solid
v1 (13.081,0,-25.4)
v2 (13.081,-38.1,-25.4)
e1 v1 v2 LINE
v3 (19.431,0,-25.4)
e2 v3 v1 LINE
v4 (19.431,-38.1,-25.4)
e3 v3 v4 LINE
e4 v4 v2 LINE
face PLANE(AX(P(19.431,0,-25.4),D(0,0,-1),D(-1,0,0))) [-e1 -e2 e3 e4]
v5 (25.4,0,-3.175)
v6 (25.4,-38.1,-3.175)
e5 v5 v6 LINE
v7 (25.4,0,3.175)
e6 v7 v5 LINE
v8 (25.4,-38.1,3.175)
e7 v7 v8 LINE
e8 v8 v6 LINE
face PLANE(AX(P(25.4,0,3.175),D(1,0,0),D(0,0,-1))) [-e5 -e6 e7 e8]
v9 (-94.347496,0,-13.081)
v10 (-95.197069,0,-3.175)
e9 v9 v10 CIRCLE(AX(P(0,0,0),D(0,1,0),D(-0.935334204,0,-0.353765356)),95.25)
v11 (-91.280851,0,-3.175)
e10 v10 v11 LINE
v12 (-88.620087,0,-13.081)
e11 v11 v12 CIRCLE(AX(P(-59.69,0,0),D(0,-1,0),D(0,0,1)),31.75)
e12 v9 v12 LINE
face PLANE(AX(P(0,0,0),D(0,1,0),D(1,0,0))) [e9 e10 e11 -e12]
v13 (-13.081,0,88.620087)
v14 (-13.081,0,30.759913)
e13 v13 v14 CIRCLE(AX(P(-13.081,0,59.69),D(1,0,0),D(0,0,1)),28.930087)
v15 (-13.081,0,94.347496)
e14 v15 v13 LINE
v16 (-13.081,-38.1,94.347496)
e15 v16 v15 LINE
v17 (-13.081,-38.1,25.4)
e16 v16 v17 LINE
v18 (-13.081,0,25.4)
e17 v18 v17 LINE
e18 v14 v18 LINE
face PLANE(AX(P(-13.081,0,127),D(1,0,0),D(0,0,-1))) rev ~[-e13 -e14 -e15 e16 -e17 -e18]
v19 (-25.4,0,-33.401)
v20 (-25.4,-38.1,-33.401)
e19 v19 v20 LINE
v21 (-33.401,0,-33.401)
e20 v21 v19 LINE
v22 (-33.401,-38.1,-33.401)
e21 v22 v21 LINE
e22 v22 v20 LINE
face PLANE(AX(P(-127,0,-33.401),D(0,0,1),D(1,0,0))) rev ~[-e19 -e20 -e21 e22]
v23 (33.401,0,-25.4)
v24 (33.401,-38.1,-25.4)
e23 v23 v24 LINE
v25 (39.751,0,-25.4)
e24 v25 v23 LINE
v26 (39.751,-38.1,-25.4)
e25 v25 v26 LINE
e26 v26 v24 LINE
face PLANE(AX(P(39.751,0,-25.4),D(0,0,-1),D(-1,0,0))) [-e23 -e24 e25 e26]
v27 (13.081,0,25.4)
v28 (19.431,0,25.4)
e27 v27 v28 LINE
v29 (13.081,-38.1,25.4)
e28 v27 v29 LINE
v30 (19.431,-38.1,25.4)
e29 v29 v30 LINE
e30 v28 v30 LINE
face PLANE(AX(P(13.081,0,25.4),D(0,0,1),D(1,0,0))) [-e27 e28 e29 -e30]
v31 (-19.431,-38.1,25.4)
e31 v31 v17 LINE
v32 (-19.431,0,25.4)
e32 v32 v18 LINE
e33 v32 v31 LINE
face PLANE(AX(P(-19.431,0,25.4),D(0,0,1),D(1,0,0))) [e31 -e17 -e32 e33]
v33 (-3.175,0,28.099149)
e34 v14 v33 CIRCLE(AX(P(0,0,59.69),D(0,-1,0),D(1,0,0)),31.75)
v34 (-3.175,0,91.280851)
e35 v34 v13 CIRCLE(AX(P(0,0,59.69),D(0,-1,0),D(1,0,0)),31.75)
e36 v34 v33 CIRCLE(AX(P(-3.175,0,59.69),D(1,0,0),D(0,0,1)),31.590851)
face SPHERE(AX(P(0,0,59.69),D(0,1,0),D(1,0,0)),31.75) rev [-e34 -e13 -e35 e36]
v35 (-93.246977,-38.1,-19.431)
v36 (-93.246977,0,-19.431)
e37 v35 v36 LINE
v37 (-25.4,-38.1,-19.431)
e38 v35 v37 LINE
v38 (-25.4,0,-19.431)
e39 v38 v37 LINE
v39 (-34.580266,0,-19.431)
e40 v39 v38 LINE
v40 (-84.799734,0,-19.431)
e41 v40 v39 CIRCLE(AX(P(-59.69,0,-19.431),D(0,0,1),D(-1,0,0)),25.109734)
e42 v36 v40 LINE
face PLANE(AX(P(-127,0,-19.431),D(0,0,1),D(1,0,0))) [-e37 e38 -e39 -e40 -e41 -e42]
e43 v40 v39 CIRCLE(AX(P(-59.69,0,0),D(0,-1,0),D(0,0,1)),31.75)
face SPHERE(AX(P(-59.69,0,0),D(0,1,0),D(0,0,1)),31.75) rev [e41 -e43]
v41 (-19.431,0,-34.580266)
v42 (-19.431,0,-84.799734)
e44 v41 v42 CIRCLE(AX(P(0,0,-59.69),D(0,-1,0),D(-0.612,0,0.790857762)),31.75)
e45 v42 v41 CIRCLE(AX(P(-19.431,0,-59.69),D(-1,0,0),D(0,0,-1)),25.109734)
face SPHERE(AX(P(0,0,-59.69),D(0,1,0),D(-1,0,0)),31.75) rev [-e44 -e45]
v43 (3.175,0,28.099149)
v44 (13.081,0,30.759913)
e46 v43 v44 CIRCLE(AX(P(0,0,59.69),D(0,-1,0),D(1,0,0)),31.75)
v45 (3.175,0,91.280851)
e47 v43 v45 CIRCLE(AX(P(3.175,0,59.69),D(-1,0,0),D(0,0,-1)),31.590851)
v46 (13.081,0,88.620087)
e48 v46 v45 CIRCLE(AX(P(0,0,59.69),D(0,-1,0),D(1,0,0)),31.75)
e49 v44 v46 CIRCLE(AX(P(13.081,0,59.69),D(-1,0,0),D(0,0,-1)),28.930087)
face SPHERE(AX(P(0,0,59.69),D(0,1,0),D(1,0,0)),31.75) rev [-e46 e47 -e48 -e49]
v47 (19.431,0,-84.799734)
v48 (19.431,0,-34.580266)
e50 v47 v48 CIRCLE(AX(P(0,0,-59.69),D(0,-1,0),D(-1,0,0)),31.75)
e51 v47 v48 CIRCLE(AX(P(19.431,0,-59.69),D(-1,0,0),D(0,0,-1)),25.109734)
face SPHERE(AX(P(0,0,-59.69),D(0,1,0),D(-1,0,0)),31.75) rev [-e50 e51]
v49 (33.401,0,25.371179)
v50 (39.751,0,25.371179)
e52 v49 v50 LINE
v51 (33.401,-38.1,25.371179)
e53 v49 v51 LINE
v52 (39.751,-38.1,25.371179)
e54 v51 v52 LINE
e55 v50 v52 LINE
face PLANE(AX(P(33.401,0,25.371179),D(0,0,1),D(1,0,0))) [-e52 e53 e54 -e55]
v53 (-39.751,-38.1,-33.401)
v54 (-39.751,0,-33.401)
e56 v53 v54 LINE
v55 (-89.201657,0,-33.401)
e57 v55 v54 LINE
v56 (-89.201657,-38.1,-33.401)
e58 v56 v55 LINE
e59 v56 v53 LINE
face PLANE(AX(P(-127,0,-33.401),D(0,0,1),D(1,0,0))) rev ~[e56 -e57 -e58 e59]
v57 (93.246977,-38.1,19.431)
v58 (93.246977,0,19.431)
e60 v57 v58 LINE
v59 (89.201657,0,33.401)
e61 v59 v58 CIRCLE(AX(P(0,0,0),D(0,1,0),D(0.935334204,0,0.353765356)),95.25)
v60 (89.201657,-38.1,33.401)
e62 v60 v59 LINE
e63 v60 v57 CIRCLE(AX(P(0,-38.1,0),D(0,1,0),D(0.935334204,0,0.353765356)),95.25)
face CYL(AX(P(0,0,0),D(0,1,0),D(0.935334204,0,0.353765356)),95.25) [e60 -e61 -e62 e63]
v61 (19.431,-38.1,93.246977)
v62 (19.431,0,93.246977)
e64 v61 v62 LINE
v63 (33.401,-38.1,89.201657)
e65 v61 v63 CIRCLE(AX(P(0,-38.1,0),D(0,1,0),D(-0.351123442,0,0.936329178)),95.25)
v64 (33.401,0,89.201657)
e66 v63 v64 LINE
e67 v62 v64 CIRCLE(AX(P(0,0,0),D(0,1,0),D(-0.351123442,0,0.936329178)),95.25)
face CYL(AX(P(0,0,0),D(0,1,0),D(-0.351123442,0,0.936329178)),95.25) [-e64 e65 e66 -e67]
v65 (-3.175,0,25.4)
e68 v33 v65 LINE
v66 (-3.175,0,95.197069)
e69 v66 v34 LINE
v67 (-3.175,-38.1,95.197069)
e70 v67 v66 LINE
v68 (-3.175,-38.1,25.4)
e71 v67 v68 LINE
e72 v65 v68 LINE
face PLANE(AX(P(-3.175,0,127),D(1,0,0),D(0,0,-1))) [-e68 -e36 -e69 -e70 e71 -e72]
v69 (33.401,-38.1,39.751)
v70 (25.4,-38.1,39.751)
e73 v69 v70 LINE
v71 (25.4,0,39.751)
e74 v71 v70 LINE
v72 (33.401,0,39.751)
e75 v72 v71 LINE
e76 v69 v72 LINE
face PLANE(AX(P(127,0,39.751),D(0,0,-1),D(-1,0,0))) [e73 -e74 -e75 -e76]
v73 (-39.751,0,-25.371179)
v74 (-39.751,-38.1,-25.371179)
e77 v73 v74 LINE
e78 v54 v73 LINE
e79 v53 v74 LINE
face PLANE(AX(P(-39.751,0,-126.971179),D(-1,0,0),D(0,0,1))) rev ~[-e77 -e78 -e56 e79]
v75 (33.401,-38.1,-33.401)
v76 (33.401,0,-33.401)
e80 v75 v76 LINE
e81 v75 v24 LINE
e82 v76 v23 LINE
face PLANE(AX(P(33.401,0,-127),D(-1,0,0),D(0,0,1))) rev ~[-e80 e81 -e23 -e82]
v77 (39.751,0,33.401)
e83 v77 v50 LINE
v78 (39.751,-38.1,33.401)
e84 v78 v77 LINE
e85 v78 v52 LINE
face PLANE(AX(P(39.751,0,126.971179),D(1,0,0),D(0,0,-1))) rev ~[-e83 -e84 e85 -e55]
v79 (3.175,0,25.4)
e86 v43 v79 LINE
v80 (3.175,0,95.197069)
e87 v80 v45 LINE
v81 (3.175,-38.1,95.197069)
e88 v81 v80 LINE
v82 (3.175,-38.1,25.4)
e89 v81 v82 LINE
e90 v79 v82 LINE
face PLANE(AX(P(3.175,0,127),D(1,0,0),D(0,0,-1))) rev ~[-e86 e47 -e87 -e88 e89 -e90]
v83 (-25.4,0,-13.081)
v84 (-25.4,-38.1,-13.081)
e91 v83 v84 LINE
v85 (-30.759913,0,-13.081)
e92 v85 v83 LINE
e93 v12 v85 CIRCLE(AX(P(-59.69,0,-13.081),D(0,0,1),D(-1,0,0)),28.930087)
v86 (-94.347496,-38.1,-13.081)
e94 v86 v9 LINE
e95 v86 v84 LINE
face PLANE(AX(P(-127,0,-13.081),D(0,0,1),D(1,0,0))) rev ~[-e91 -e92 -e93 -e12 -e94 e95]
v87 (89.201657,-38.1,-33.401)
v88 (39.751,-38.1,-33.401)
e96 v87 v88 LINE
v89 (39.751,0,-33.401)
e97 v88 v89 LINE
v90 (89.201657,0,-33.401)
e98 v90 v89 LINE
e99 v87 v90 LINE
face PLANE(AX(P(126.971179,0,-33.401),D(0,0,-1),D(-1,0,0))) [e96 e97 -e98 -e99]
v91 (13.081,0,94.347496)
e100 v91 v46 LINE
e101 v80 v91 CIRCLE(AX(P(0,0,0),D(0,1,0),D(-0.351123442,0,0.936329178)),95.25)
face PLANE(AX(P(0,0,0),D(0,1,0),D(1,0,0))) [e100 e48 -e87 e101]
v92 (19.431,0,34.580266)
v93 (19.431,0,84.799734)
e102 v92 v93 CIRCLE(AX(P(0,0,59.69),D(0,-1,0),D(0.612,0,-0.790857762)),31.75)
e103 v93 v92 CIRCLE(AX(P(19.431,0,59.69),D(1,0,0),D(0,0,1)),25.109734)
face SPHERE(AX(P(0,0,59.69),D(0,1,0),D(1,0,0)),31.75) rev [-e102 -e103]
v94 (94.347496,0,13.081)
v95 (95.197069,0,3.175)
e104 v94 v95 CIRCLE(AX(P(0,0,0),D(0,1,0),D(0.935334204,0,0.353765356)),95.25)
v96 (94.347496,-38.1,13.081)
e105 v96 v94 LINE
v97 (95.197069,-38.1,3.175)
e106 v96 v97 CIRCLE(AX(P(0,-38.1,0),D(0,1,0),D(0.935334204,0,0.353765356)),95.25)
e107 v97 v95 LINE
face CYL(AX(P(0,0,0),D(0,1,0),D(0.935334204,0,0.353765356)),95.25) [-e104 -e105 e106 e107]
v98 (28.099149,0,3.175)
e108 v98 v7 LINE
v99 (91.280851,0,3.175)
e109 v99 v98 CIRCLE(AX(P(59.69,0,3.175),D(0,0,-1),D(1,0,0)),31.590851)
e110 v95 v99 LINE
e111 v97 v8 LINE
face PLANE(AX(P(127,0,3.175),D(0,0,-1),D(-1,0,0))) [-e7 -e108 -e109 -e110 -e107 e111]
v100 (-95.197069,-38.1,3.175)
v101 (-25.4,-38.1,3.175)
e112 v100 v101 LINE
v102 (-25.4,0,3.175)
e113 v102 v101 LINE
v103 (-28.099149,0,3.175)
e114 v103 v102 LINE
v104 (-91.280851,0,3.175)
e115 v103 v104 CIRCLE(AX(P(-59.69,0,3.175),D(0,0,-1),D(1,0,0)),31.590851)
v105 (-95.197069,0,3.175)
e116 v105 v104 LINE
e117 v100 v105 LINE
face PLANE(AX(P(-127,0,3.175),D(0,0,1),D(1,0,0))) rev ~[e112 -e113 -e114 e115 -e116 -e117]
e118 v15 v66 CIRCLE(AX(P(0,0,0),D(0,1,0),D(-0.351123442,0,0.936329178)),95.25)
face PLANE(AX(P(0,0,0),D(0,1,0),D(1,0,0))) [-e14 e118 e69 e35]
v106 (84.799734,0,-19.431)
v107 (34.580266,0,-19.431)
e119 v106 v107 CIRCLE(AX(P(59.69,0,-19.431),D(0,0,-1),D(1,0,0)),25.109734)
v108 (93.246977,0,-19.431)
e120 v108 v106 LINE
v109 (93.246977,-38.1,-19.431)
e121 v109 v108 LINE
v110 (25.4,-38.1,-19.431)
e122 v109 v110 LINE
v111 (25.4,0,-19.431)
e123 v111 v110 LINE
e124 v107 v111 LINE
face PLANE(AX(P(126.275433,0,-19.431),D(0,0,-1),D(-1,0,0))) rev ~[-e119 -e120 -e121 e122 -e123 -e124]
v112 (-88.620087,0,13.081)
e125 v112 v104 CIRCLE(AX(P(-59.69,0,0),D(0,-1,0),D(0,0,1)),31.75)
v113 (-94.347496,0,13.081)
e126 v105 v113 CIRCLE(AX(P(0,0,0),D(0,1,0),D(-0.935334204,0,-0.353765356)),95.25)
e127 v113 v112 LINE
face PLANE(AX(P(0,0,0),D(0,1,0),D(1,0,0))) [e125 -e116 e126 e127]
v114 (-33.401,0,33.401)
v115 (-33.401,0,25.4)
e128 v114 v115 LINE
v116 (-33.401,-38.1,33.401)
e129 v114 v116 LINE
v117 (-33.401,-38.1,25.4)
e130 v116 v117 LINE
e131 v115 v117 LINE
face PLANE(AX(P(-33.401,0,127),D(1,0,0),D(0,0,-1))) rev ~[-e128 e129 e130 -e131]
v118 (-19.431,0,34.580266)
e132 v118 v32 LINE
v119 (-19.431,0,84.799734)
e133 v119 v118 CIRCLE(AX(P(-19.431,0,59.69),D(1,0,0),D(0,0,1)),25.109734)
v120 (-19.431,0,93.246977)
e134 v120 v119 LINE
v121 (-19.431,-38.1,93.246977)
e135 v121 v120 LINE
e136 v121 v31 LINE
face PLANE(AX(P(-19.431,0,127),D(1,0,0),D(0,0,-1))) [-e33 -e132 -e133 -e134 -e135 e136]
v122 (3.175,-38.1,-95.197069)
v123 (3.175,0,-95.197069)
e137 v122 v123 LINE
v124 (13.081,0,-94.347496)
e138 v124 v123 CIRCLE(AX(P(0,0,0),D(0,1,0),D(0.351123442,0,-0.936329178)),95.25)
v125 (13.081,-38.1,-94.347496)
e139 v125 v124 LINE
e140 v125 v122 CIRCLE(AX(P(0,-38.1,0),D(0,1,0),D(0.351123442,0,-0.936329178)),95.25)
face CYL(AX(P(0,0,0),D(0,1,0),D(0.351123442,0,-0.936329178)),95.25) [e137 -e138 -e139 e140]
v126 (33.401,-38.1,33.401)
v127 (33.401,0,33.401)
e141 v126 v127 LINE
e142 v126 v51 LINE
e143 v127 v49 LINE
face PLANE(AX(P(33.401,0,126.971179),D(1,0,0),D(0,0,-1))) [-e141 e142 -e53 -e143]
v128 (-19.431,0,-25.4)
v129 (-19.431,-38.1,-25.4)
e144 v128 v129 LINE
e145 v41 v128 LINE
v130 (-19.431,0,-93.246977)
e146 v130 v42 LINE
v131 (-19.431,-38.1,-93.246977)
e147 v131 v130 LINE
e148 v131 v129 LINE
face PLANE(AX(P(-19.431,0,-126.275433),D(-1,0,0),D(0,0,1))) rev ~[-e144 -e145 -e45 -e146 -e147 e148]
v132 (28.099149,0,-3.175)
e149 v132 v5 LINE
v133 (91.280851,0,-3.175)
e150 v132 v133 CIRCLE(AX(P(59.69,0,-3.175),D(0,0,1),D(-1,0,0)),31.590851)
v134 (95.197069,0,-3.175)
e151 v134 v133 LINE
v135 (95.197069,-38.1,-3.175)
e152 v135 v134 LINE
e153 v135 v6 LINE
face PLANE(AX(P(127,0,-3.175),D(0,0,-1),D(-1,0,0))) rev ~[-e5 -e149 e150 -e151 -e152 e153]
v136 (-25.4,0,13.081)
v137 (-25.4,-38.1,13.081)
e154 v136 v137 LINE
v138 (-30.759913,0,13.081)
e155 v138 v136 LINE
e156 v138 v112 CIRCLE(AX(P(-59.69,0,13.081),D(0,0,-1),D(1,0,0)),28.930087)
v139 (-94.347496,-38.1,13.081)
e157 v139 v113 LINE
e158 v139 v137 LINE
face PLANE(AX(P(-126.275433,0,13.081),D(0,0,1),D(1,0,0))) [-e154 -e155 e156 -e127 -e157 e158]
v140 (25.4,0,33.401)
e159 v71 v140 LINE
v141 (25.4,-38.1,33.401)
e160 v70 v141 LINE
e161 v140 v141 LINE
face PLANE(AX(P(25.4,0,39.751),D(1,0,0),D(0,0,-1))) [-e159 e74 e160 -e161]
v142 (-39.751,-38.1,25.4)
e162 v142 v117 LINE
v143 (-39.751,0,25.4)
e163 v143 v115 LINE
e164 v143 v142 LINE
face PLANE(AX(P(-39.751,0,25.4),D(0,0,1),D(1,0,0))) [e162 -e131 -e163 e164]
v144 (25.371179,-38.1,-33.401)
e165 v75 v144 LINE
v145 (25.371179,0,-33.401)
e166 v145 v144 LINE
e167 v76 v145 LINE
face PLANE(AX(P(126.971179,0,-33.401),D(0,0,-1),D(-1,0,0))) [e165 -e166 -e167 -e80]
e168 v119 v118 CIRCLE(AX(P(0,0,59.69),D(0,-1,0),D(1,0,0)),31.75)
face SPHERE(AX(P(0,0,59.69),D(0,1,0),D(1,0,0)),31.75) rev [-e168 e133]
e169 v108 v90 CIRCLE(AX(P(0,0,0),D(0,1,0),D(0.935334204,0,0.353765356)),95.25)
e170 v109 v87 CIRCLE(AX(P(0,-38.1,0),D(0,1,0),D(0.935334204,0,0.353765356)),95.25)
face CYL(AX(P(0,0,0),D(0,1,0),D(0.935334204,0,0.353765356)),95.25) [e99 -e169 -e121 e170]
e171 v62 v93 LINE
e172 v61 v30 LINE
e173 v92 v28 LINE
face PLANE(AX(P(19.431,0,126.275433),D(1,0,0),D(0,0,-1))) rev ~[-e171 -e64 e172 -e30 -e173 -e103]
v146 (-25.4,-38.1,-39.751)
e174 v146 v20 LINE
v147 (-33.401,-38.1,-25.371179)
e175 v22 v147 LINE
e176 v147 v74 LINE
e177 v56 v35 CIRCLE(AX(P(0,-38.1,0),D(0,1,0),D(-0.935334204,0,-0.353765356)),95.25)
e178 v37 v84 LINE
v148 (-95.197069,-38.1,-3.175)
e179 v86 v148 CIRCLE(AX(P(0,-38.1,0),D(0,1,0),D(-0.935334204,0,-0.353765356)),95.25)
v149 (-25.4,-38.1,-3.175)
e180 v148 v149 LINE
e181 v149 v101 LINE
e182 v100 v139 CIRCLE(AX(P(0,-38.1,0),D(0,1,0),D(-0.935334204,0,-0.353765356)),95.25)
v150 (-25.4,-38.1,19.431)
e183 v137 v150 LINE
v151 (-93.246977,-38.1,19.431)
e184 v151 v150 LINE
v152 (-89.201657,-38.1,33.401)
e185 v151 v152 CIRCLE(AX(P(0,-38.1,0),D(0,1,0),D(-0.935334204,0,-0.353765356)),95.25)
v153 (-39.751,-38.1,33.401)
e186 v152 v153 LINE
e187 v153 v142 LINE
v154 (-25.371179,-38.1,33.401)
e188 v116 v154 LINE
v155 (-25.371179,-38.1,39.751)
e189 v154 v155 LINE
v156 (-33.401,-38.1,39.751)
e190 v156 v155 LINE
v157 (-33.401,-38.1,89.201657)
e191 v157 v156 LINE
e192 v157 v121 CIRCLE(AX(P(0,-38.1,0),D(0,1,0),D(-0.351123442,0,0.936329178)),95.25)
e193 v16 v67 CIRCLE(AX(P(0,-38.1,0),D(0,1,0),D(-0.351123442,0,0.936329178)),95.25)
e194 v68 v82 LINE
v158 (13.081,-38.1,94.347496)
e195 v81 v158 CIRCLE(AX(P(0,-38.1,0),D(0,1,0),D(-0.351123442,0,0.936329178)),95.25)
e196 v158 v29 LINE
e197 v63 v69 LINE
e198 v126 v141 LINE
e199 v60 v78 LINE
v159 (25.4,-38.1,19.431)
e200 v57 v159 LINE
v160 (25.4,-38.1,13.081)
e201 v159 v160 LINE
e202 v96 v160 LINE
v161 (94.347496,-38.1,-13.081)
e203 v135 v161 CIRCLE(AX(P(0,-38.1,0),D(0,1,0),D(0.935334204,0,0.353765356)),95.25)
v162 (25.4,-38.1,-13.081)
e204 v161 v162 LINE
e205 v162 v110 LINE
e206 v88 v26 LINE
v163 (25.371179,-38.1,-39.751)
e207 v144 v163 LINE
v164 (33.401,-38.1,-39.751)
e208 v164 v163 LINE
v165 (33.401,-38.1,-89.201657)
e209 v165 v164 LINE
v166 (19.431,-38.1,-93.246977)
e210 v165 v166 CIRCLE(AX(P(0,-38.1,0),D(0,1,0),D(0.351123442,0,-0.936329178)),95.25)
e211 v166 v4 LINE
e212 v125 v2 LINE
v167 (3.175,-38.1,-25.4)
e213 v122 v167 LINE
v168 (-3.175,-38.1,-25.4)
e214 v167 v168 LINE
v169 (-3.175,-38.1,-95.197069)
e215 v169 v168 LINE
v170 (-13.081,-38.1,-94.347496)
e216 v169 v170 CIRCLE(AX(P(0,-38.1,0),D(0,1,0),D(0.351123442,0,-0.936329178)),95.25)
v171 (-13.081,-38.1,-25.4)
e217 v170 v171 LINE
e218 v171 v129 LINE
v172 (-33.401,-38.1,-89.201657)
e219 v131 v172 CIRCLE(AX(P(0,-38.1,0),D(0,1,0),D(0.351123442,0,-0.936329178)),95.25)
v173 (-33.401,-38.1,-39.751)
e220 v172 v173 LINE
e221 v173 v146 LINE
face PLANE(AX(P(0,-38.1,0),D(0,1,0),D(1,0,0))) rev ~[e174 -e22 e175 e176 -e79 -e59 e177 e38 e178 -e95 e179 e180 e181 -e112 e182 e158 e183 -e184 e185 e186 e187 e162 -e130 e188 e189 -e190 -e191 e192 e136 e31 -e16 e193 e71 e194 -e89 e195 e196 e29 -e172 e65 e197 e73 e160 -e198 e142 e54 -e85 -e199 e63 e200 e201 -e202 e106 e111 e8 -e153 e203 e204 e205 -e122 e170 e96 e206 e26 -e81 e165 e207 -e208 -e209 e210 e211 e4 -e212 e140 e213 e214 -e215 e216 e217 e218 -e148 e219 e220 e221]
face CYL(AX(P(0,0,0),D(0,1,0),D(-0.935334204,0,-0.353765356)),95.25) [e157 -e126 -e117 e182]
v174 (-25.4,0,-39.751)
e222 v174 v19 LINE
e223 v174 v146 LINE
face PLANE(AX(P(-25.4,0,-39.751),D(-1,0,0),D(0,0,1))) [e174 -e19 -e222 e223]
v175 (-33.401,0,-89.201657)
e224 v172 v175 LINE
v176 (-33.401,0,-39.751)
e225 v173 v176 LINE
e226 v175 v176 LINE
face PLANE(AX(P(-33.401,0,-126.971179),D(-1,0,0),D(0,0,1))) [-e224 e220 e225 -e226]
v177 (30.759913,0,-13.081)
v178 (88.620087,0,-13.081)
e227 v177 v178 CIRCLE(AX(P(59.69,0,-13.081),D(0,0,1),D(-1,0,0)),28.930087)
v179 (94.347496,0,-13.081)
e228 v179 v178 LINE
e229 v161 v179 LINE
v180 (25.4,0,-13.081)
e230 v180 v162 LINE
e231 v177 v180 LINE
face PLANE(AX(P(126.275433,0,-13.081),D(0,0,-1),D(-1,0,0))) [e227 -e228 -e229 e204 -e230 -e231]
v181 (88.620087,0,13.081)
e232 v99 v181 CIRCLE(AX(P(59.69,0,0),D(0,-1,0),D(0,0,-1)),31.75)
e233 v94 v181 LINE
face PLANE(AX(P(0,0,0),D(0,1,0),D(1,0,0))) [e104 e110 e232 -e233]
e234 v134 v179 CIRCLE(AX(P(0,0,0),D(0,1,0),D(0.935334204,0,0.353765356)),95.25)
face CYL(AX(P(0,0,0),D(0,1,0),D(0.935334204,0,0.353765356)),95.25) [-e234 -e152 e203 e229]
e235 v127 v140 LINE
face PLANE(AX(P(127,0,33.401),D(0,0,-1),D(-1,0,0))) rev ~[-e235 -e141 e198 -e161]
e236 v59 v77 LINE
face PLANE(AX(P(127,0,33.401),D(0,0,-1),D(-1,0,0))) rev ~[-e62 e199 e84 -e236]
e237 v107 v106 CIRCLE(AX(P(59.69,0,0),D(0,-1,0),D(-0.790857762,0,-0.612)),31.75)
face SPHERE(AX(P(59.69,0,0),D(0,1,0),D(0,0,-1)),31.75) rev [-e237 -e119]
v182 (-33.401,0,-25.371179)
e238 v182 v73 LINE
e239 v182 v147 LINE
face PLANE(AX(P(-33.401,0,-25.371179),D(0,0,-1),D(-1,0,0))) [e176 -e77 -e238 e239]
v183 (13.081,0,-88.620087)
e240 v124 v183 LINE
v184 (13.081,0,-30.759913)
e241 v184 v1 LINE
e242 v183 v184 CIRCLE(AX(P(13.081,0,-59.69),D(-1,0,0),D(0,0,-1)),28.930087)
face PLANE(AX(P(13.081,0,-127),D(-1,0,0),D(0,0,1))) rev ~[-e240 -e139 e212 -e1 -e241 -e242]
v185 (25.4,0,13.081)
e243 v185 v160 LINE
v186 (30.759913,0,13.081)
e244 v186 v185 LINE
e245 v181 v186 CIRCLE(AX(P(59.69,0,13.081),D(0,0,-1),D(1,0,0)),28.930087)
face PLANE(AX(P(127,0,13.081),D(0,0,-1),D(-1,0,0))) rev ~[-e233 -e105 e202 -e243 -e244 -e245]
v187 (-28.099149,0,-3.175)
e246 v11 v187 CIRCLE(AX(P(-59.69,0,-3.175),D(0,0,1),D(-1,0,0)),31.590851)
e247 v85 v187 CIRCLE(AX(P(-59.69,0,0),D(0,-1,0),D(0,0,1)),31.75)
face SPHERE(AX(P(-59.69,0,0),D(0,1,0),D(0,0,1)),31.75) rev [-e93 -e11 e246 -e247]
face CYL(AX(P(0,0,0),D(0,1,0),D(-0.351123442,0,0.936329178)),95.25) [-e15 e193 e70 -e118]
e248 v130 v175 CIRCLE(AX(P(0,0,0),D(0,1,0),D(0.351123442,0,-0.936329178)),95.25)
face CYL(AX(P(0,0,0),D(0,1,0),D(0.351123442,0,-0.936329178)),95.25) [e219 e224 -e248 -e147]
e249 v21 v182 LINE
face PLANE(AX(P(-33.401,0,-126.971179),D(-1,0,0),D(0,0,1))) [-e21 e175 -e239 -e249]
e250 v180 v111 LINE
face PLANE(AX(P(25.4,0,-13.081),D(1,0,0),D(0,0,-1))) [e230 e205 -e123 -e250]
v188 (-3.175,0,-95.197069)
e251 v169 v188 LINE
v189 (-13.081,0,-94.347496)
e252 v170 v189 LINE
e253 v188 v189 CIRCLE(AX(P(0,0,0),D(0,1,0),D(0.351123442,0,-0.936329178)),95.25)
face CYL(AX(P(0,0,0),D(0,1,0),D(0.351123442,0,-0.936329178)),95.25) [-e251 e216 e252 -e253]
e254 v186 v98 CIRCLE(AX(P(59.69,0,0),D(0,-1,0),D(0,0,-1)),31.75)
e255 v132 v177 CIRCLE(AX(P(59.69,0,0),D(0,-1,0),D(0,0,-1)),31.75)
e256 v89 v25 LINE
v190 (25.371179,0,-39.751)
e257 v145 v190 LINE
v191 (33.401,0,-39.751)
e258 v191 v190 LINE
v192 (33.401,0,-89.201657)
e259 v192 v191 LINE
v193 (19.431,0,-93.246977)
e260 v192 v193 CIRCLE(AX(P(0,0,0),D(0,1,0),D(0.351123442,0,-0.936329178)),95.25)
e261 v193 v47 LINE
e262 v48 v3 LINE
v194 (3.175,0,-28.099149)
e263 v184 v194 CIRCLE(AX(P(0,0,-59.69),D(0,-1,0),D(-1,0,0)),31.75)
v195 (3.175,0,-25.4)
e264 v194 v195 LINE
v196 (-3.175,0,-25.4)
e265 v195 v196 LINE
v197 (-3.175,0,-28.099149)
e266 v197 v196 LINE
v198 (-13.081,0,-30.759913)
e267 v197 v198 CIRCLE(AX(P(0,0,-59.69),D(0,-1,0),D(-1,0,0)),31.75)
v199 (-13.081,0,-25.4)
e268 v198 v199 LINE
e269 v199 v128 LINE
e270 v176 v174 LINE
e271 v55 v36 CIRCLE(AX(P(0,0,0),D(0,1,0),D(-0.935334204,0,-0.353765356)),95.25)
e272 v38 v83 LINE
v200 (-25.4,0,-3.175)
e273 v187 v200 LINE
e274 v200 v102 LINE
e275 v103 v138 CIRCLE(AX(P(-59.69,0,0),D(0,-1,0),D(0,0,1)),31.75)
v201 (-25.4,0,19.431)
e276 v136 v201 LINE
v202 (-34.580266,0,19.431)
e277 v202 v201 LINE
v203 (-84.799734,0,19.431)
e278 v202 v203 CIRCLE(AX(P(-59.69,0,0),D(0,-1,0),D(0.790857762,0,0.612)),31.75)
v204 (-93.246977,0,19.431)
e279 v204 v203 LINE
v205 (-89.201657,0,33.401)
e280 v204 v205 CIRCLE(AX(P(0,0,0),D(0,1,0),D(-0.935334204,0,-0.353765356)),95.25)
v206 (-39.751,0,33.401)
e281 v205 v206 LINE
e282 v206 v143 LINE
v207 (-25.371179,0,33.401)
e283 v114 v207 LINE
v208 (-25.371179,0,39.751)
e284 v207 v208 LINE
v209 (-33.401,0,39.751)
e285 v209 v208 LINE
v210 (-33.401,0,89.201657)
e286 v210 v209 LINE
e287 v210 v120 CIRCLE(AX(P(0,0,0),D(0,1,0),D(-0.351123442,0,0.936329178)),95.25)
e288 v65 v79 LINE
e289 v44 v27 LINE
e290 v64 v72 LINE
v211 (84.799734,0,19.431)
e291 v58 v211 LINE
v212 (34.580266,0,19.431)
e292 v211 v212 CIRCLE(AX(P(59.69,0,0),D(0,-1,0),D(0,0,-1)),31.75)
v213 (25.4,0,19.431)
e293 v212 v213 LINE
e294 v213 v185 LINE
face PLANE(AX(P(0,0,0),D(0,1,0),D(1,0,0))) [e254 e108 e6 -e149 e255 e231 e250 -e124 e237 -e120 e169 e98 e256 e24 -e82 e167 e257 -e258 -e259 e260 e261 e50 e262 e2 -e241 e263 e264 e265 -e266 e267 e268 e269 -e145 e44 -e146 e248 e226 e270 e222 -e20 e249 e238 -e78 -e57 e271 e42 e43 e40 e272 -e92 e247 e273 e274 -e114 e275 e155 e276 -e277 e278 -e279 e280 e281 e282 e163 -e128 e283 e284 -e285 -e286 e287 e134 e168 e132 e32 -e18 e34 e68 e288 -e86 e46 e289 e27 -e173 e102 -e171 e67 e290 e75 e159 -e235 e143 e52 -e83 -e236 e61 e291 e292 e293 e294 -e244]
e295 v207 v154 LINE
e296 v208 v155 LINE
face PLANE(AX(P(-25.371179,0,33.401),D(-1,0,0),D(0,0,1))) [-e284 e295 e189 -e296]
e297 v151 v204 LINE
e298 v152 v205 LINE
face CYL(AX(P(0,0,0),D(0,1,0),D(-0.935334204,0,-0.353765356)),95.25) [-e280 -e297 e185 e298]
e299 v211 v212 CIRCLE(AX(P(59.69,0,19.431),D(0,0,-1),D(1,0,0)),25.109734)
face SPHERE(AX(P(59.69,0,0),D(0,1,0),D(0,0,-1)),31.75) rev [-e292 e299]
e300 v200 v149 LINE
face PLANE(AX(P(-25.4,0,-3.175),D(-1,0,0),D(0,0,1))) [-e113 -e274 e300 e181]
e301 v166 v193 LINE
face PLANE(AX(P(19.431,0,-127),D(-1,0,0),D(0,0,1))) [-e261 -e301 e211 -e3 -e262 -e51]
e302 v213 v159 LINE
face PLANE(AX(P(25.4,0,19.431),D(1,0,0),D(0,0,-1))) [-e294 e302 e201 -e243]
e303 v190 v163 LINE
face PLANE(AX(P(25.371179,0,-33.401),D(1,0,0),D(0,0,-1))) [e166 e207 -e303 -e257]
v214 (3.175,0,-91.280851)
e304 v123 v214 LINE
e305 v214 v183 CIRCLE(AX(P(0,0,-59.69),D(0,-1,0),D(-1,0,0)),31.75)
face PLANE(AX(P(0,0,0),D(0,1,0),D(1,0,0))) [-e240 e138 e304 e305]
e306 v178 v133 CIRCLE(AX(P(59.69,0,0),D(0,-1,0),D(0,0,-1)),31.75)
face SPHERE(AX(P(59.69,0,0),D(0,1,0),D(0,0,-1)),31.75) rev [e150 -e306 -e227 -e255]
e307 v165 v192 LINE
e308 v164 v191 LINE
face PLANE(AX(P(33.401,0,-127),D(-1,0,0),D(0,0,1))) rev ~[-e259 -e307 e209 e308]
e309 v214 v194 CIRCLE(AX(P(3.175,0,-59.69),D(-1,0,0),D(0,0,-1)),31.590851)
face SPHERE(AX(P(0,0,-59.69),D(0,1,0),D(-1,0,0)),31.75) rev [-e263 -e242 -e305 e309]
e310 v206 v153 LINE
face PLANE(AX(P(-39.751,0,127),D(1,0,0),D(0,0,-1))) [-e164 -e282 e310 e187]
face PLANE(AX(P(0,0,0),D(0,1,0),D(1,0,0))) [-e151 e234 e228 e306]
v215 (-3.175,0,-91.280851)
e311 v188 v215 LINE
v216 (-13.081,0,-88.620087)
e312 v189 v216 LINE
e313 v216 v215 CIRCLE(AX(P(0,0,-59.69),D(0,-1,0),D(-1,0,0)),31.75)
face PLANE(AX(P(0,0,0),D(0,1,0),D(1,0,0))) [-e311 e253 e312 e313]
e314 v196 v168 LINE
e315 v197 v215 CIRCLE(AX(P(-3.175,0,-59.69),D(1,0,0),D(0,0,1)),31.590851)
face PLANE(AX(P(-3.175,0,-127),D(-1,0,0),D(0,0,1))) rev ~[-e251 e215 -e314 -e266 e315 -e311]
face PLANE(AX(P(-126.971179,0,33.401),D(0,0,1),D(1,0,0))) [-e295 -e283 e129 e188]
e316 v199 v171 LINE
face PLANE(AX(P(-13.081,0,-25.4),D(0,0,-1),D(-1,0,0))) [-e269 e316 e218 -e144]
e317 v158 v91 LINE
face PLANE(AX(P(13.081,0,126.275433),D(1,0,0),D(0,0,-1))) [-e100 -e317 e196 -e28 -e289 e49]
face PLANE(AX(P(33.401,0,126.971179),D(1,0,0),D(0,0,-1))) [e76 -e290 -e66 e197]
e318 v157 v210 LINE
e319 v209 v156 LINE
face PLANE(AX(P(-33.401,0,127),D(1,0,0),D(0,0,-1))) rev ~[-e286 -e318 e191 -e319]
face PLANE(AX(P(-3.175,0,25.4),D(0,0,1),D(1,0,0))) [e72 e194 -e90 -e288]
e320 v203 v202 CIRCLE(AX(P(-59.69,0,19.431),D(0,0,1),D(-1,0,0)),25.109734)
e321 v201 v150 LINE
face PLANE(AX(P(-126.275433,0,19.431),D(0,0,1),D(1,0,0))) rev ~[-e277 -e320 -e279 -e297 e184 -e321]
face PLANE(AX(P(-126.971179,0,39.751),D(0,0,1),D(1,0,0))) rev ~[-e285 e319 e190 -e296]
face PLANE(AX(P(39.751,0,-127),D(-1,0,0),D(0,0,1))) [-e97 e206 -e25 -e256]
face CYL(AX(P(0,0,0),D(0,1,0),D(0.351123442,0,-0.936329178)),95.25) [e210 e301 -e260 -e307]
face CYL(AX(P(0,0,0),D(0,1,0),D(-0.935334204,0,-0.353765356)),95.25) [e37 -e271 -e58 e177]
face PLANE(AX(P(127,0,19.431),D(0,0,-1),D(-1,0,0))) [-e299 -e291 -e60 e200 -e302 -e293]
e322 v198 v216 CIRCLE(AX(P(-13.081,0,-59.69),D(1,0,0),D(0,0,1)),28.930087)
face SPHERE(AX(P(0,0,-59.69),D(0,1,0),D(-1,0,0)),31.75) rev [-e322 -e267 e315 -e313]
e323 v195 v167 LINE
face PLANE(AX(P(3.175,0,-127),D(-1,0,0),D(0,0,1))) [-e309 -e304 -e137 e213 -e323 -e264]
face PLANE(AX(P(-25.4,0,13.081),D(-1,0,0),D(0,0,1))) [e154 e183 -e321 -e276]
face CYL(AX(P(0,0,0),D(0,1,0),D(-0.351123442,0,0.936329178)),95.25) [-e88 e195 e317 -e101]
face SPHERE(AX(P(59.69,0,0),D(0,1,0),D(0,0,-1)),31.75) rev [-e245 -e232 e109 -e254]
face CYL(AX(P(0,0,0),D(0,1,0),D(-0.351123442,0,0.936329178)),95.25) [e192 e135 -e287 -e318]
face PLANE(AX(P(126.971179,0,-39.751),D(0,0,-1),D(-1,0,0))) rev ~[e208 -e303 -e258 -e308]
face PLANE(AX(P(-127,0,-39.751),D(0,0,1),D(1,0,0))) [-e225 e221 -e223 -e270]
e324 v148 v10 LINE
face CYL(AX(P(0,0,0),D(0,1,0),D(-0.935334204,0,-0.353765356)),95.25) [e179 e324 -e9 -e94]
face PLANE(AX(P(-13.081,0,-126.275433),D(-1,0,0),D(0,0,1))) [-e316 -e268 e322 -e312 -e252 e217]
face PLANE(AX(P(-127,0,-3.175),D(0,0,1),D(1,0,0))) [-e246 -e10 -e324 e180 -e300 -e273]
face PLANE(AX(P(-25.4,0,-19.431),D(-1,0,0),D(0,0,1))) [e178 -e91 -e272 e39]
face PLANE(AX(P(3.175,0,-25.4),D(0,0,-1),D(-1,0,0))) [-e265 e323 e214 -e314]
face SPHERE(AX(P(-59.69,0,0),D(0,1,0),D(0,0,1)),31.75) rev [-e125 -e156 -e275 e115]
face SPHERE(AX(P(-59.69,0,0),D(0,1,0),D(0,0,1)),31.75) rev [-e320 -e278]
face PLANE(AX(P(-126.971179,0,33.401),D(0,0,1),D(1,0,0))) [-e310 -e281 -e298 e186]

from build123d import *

# Parameters (mm, degrees)
BOSS_EXTRUDE1_DEPTH = 38.1
SKETCH7_W           = 6.35
SKETCH7_H           = 101.6
SKETCH7_H_2         = 100.875432805
CUT_EXTRUDE1_DEPTH  = 140.9883388
CIRPATTERN1_COUNT   = 4


with BuildPart() as part:
    # Sketch1 → Boss-Extrude1 (new body)
    with BuildSketch(Plane(origin=(0, 0, 0), x_dir=(1, 0, 0), z_dir=(0, 1, 0))):
        with BuildLine():
            Line((-33.444507811, 89.185354163), (-33.444507811, 33.696150168))
            Line((-33.444507811, 33.696150168), (-89.090582913, 33.696150168))
            ThreePointArc((-89.090582913, 33.696150168), (-95.25, 0), (-89.090582913, -33.696150168))
            Line((-89.090582913, -33.696150168), (-33.444507811, -33.696150168))
            Line((-33.444507811, -33.696150168), (-33.444507811, -89.185354163))
            ThreePointArc((-33.444507811, -89.185354163), (0, -95.25), (33.444507811, -89.185354163))
            Line((33.444507811, -89.185354163), (33.444507811, -33.696150168))
            Line((33.444507811, -33.696150168), (89.090582913, -33.696150168))
            ThreePointArc((89.090582913, -33.696150168), (95.25, 0), (89.090582913, 33.696150168))
            Line((89.090582913, 33.696150168), (33.444507811, 33.696150168))
            Line((33.444507811, 33.696150168), (33.444507811, 89.185354163))
            ThreePointArc((33.444507811, 89.185354163), (0, 95.25), (-33.444507811, 89.185354163))
        make_face()
    extrude(amount=-BOSS_EXTRUDE1_DEPTH)

    # Sketch3 → Cut-Revolve3 (revolve, cut)
    with BuildSketch(Plane.XY.offset(59.69)):
        with BuildLine():
            Line((0, 0), (0, -31.75))
            ThreePointArc((0, -31.75), (22.450640303, -22.450640303), (31.75, 0))
            Line((31.75, 0), (0, 0))
        make_face()
    cut_revolve3 = revolve(axis=Axis((0, 0, 59.69), (0, -1, 0)), mode=Mode.SUBTRACT)

    # Sketch7 → Cut-Extrude1 (cut, through all)
    with BuildSketch(Plane(origin=(0, 0, 0), x_dir=(1, 0, 0), z_dir=(0, 1, 0))):
        with Locations((-16.256, -76.2)):
            Rectangle(SKETCH7_W, SKETCH7_H)
        with Locations((0, -76.2)):
            Rectangle(SKETCH7_W, SKETCH7_H)
        with Locations((16.256, -75.837716403)):
            Rectangle(SKETCH7_W, SKETCH7_H_2)
        with Locations((36.576, -76.171178844)):
            Rectangle(SKETCH7_W, SKETCH7_H)
        with Locations((-36.576, -76.2)):
            Rectangle(SKETCH7_W, SKETCH7_H)
    cut_extrude1 = extrude(amount=-CUT_EXTRUDE1_DEPTH, mode=Mode.SUBTRACT)

    # CirPattern1: Cut-Revolve3, Cut-Extrude1 ×4 about axis
    cirpattern1_axis = Axis((0, 0, 0), (0, 1, 0))
    add([cut_revolve3.rotate(cirpattern1_axis, i * 360 / CIRPATTERN1_COUNT) for i in range(1, CIRPATTERN1_COUNT)], mode=Mode.SUBTRACT)
    add([cut_extrude1.rotate(cirpattern1_axis, i * 360 / CIRPATTERN1_COUNT) for i in range(1, CIRPATTERN1_COUNT)], mode=Mode.SUBTRACT)


solid = part.part
